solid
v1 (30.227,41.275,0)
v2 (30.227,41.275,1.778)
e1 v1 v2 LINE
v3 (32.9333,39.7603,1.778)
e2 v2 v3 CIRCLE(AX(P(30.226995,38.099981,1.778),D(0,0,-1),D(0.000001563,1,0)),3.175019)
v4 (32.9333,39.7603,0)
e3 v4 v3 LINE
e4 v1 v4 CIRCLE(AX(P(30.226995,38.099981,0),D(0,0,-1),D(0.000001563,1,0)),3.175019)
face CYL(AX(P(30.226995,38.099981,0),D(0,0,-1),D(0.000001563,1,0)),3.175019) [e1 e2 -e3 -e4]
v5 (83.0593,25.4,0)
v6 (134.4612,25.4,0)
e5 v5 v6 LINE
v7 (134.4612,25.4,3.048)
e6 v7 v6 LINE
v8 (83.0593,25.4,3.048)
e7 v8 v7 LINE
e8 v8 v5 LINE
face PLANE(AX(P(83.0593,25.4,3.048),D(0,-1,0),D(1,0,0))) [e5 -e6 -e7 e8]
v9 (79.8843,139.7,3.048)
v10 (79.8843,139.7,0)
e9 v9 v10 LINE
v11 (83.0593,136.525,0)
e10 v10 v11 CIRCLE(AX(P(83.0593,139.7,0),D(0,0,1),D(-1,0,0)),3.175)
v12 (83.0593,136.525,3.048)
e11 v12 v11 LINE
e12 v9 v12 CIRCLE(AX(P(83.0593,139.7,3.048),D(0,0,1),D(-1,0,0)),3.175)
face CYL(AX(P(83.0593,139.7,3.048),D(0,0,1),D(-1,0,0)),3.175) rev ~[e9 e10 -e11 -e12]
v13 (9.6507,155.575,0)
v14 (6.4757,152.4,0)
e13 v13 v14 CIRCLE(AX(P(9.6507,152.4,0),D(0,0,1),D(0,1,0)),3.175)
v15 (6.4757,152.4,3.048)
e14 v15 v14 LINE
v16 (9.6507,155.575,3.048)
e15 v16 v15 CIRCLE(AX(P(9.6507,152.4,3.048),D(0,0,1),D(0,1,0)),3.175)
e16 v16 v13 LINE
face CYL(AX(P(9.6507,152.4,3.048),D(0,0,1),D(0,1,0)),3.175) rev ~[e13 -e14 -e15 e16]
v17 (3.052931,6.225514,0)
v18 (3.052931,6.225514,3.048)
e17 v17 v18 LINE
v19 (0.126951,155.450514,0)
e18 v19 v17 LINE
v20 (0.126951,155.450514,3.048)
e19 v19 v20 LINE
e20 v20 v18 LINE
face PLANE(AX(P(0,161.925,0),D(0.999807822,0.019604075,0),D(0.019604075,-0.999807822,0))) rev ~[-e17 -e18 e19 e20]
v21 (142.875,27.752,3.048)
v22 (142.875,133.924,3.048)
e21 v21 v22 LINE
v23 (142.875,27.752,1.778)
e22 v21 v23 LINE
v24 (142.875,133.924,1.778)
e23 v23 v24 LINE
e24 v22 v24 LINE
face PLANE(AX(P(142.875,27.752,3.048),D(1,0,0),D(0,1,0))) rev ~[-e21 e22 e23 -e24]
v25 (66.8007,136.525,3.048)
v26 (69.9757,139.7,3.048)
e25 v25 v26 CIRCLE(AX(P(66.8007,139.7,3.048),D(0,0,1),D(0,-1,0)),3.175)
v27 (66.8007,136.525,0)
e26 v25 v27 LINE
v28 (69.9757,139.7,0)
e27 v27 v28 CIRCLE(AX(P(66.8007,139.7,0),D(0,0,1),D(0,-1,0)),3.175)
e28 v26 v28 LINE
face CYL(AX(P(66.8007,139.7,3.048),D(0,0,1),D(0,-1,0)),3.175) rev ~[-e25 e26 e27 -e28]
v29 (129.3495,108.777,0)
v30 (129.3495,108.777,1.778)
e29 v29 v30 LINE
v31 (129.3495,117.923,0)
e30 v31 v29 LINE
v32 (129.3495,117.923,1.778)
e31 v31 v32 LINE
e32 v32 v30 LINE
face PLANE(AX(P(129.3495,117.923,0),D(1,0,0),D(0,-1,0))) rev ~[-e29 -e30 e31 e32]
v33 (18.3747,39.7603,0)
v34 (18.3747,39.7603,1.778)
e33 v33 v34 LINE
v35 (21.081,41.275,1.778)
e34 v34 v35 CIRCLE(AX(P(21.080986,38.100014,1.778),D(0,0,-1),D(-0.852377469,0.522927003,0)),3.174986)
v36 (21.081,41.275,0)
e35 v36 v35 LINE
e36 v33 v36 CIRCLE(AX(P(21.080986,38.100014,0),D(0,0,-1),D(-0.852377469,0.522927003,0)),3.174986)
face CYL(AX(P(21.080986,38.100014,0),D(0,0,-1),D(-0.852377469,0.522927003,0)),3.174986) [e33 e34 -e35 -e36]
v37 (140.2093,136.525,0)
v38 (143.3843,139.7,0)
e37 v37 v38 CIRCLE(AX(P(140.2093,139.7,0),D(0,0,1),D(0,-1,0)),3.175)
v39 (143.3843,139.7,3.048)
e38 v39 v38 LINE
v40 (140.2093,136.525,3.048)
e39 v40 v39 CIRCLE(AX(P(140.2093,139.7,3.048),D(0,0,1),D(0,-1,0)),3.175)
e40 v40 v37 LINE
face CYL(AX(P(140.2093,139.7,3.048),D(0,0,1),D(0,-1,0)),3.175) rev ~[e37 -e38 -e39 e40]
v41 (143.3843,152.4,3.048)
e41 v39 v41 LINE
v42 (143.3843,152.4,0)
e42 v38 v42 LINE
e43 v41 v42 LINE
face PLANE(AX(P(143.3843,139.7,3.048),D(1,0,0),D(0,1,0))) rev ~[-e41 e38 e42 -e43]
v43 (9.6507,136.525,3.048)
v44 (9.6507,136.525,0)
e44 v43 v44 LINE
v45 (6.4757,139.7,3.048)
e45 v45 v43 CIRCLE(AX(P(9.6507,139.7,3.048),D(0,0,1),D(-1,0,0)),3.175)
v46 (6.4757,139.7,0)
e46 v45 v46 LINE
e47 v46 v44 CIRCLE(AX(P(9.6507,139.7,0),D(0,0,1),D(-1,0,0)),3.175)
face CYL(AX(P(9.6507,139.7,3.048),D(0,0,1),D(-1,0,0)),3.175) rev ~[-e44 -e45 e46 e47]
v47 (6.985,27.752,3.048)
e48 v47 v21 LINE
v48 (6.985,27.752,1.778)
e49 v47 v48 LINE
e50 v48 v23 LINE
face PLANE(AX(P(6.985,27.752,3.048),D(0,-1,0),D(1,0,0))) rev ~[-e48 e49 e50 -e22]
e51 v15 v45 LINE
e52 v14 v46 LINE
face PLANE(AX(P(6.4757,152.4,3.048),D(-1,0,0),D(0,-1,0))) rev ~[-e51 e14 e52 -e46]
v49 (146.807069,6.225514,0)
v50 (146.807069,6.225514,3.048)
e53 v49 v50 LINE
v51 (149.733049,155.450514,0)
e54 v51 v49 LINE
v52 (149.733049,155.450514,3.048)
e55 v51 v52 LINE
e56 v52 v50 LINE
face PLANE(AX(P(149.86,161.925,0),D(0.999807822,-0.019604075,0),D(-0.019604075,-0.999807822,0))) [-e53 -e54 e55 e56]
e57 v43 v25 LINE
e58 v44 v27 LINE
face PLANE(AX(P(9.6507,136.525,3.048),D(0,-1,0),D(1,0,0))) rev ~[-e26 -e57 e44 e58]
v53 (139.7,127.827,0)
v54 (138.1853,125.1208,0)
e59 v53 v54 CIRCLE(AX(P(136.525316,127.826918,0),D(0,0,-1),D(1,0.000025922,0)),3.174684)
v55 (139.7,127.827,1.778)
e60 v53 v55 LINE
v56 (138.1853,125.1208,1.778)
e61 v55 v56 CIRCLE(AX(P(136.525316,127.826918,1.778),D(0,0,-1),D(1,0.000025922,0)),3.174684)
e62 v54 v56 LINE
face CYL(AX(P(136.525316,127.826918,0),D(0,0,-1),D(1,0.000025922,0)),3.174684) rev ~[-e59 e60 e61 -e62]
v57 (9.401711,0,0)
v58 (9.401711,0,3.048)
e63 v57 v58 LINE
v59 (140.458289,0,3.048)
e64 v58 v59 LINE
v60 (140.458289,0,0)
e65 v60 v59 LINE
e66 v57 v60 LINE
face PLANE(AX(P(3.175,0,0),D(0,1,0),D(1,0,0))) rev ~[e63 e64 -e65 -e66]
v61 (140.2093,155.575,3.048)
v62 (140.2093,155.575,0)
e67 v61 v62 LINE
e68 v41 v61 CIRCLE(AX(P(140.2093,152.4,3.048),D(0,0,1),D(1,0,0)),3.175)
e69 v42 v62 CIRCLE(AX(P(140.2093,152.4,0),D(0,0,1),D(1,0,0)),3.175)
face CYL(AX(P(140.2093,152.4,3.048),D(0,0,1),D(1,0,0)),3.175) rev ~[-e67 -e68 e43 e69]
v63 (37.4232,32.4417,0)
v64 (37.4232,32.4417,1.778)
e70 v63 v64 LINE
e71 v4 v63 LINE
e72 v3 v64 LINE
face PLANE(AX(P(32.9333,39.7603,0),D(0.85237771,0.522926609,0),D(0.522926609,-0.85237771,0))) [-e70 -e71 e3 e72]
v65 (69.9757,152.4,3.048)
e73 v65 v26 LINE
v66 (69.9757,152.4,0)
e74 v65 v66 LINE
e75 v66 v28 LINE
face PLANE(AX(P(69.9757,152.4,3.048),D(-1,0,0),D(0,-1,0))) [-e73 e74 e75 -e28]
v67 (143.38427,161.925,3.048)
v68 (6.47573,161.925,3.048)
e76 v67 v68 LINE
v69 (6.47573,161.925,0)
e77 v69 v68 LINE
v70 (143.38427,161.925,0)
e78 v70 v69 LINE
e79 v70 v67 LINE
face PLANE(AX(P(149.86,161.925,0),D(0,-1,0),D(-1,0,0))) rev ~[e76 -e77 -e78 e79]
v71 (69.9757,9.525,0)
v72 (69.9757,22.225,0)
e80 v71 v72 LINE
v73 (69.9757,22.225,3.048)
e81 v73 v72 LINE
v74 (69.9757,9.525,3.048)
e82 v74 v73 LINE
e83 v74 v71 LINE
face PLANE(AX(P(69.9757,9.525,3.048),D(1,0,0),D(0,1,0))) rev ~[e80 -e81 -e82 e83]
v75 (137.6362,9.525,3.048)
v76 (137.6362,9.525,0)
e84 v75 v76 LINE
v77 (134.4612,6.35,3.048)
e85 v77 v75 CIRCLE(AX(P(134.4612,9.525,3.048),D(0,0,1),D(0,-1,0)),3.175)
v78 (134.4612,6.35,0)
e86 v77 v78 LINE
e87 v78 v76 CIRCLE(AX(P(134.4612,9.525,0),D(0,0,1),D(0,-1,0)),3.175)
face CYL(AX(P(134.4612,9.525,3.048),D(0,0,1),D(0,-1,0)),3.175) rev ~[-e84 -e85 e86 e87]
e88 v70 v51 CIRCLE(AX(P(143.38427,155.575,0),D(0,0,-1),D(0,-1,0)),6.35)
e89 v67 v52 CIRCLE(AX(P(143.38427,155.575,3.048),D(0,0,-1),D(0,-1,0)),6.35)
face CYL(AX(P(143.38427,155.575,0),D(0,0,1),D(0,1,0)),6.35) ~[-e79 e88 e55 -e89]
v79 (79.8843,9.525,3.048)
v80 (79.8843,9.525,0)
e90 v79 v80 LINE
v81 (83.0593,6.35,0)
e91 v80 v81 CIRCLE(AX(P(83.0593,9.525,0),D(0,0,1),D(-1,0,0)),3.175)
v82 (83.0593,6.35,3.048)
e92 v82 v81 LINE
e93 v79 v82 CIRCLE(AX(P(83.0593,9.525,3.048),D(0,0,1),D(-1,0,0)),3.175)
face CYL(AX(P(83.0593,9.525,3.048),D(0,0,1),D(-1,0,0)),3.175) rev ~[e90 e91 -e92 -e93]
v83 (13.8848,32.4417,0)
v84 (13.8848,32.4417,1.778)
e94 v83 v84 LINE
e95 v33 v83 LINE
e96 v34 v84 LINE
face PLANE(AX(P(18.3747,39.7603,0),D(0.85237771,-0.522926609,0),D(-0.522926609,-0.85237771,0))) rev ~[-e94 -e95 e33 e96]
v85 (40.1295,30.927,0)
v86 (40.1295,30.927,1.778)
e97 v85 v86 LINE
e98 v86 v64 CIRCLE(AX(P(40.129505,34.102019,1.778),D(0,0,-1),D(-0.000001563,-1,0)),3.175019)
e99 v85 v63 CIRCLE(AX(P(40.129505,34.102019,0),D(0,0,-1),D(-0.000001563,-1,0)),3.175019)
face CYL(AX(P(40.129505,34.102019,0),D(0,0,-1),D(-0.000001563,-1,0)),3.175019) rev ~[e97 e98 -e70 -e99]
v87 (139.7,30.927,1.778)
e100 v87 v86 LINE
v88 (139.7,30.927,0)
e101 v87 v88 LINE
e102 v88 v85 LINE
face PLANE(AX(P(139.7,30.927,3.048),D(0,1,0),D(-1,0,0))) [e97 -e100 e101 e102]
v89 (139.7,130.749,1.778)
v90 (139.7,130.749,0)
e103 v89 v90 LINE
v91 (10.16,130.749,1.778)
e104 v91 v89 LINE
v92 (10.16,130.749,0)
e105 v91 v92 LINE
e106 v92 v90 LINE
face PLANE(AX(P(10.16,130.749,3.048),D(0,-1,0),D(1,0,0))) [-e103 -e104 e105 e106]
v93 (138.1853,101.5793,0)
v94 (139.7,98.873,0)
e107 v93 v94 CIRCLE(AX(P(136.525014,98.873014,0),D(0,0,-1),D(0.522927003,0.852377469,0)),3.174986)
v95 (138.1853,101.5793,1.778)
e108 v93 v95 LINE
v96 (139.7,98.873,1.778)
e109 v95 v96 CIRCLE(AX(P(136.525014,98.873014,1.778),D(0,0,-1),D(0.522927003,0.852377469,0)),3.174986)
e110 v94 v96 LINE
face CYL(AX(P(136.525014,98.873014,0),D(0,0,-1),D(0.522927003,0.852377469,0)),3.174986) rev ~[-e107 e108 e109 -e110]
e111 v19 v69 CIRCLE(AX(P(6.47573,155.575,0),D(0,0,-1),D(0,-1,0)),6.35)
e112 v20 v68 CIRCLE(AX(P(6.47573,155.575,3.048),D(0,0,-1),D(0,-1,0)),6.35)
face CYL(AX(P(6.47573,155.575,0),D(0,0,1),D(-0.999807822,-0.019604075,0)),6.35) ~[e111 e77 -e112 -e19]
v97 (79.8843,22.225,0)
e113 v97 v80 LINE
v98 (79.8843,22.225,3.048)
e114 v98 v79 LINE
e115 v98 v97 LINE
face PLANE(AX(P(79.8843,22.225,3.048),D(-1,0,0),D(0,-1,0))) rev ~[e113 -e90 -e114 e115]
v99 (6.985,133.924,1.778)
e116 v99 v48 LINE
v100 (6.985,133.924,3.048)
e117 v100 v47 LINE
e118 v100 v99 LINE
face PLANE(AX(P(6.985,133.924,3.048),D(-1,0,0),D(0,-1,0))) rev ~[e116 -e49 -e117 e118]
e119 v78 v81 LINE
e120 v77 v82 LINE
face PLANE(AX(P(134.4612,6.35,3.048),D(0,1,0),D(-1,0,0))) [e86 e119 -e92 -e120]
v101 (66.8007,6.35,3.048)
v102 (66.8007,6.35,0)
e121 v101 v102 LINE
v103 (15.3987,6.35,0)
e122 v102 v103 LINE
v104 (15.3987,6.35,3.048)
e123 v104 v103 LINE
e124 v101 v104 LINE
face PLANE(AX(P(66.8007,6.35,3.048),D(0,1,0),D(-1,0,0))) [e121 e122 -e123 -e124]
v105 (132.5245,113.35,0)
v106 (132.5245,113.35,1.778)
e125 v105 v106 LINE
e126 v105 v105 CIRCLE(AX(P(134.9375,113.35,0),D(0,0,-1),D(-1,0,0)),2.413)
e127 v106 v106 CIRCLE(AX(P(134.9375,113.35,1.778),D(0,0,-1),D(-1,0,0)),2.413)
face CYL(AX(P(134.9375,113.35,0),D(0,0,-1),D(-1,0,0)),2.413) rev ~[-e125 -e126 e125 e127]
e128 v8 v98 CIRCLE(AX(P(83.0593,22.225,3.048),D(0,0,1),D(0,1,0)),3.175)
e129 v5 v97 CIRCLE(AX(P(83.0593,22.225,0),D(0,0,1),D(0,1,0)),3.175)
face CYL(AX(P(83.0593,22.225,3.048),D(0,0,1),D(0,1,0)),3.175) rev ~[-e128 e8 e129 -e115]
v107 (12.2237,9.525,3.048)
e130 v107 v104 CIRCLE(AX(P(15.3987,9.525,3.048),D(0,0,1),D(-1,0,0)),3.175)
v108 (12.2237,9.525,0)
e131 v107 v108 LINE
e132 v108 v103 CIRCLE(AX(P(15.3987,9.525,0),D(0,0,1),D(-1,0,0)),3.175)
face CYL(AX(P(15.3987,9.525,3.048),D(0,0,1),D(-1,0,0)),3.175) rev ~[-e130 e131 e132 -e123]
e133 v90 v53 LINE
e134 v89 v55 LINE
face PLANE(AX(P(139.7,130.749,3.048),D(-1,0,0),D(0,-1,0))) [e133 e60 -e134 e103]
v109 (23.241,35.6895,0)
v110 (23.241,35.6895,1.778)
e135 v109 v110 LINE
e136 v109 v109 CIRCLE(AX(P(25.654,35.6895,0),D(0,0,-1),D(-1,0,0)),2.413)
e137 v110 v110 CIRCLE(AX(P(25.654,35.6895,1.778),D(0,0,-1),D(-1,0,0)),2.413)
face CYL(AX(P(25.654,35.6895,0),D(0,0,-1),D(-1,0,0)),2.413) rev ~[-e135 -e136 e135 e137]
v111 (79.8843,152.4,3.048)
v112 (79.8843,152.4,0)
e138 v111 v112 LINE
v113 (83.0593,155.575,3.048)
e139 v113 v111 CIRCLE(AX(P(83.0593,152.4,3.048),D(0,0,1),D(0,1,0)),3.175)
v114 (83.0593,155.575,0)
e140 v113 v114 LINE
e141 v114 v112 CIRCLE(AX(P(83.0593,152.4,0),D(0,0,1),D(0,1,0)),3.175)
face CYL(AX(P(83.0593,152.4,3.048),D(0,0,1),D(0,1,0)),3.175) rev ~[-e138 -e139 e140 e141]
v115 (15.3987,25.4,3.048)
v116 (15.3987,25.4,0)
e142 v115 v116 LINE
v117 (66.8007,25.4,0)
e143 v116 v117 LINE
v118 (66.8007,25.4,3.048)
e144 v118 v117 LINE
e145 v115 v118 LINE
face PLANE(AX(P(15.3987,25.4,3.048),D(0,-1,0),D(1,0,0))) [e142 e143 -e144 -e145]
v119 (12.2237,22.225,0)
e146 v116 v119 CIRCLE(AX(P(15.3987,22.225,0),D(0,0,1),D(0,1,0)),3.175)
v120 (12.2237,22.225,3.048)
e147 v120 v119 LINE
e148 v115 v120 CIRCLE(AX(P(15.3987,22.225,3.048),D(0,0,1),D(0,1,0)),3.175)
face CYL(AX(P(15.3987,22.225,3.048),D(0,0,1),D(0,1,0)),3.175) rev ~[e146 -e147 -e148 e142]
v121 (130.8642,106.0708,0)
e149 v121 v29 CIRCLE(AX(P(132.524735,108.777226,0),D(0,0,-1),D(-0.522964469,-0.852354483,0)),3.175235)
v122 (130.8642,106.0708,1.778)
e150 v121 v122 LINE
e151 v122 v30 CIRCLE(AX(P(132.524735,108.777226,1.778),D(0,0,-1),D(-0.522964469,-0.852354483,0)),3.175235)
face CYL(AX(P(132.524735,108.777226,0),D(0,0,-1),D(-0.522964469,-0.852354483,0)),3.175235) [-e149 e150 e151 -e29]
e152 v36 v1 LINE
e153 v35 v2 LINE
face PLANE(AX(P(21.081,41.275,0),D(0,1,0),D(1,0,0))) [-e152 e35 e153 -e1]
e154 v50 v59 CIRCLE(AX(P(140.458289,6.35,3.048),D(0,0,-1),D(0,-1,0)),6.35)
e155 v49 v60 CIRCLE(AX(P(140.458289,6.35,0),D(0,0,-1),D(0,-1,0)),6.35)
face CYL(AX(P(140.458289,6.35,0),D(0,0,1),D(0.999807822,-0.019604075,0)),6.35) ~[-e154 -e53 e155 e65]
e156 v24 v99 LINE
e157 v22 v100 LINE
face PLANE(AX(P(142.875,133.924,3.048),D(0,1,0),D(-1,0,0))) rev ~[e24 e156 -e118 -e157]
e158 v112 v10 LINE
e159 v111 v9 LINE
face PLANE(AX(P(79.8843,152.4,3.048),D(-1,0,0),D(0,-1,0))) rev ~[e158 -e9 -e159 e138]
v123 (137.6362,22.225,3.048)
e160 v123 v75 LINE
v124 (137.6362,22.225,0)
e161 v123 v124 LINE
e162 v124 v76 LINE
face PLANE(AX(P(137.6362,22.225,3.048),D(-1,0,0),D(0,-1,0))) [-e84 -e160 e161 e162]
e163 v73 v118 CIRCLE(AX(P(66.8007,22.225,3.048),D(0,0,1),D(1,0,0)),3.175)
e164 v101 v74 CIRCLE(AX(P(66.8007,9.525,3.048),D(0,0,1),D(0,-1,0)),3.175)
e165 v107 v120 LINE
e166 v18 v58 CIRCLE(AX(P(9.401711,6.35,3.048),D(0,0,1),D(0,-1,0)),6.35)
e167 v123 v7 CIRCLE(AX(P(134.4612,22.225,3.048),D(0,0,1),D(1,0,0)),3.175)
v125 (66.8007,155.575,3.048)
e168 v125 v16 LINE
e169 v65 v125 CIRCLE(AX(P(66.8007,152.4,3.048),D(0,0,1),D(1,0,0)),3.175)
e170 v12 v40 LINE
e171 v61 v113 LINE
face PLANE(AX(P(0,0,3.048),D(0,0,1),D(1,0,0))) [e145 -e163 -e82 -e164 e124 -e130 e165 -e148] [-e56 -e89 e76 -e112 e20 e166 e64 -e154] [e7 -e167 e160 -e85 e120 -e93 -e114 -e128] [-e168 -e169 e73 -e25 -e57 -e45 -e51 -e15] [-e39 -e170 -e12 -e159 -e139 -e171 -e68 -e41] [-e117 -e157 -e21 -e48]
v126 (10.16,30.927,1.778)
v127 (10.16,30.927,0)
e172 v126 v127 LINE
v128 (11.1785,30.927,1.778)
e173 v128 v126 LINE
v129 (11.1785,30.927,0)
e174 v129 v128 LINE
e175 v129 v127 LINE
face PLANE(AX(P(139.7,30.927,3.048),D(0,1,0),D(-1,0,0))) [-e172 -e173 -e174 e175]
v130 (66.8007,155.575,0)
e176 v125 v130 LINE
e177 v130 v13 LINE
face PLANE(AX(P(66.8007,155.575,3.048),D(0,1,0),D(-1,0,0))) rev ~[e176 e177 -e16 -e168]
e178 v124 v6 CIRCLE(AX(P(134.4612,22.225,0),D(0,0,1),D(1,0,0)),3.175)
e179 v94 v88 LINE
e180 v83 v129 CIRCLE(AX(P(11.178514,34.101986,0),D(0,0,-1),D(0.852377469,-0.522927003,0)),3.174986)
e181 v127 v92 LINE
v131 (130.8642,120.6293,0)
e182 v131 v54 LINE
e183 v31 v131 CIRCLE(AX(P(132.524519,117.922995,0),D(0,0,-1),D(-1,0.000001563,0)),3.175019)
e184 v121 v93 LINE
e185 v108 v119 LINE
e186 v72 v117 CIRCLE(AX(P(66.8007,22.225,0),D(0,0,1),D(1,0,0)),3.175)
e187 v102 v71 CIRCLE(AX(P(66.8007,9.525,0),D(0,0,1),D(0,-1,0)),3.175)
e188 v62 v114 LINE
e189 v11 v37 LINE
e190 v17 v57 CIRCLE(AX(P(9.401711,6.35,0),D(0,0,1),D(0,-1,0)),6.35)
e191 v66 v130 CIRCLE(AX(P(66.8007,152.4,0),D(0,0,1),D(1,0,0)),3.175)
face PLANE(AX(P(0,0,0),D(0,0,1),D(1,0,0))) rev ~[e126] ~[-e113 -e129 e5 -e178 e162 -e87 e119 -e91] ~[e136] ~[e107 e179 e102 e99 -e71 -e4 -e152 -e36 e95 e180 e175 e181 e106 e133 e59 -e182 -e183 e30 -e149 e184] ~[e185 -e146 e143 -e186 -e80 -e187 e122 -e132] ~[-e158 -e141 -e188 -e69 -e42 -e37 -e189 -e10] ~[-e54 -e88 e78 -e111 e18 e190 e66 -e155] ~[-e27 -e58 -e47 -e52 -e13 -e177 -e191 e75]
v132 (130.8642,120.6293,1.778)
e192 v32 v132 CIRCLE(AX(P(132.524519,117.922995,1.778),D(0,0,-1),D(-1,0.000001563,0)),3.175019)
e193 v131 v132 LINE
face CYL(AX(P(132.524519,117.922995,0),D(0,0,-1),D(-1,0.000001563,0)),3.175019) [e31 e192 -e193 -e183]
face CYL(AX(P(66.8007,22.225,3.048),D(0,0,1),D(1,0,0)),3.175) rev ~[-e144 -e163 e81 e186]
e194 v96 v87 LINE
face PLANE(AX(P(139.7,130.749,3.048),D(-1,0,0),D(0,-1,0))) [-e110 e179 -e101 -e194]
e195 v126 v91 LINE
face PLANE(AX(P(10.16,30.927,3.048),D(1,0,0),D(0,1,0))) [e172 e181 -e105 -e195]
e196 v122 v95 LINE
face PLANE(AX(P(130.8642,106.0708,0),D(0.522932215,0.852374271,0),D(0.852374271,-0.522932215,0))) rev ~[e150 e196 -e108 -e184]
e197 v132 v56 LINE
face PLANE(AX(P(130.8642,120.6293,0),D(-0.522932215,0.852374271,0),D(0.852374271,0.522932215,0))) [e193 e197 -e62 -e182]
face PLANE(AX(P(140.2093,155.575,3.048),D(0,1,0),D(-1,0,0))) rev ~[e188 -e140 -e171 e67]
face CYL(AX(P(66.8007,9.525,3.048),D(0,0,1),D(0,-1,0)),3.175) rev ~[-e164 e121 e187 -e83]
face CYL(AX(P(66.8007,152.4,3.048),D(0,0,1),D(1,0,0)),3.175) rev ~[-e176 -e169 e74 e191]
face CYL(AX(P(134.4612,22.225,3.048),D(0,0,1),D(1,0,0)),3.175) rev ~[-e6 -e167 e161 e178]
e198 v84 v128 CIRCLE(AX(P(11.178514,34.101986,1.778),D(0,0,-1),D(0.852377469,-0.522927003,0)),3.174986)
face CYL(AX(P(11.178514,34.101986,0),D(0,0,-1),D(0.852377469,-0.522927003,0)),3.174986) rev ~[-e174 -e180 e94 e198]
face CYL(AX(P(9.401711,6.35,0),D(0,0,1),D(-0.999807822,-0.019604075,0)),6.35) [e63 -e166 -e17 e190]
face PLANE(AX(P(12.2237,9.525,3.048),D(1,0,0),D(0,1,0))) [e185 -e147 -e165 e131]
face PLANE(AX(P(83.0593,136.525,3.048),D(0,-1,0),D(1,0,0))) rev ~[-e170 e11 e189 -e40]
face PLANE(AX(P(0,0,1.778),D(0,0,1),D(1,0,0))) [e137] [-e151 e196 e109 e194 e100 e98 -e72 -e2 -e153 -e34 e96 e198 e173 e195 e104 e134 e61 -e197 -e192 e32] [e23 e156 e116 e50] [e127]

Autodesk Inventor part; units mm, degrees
ref_plane "YZ Plane" through (0, 0, 0) normal (1, 0, 0) x (0, 1, 0)
ref_plane "XZ Plane" through (0, 0, 0) normal (0, 1, 0) x (-1, 0, 0)
ref_plane "XY Plane" through (0, 0, 0) normal (0, 0, 1) x (1, 0, 0)
sketch "Sketch1" plane through (0, 0, 0) normal (0, 0, 1) x (1, 0, 0)
  line L0 (3.175, 0) -> (146.685, 0)
  line L1 (149.86, 161.925) -> (0, 161.925)
  line L2 (0, 161.925) -> (3.175, 0)
  line L3 (149.86, 161.925) -> (146.685, 0)
  point P0 (0, 0)
  dimension "d74" = 161.925
  dimension "d75" = 143.51
  dimension "d76" = 149.86
extrude "Extrusion1" add sketch "Sketch1" along normal blind 3.048
fillet "Fillet1" radius 6.35 3 edges at (149.86, 161.925, 1.524) (146.685, 0, 1.524) (0, 161.925, 1.524)
fillet "Fillet4" radius 6.35 1 edges at (3.175, 0, 1.524)
sketch "Sketch21" plane through (0, 0, 3.048) normal (0, 0, 1) x (1, 0, 0)
  arc A0 (149.733, 155.4505) -> (143.3843, 161.925) centre (143.3843, 155.575) ccw projected
  line L0 (143.3843, 139.7) -> (143.3843, 152.4)
  line L1 (6.4757, 152.4) -> (6.4757, 139.7)
  line L2 (79.8843, 152.4) -> (79.8843, 139.7)
  line L3 (69.9757, 152.4) -> (69.9757, 139.7)
  line L4 (140.2093, 155.575) -> (83.0593, 155.575)
  line L5 (66.8007, 155.575) -> (9.6507, 155.575)
  line L6 (9.6507, 136.525) -> (66.8007, 136.525)
  line L7 (83.0593, 136.525) -> (140.2093, 136.525)
  arc A1 (9.6507, 155.575) -> (6.4757, 152.4) centre (9.6507, 152.4) ccw
  arc A2 (6.4757, 139.7) -> (9.6507, 136.525) centre (9.6507, 139.7) ccw
  arc A3 (66.8007, 136.525) -> (69.9757, 139.7) centre (66.8007, 139.7) ccw
  arc A4 (69.9757, 152.4) -> (66.8007, 155.575) centre (66.8007, 152.4) ccw
  arc A5 (83.0593, 155.575) -> (79.8843, 152.4) centre (83.0593, 152.4) ccw
  arc A6 (79.8843, 139.7) -> (83.0593, 136.525) centre (83.0593, 139.7) ccw
  arc A7 (140.2093, 136.525) -> (143.3843, 139.7) centre (140.2093, 139.7) ccw
  arc A8 (143.3843, 152.4) -> (140.2093, 155.575) centre (140.2093, 152.4) ccw
  line L8 (137.6362, 22.225) -> (137.6362, 9.525)
  line L9 (12.2237, 9.525) -> (12.2237, 22.225)
  line L10 (12.2237, 25.4) -> (137.6362, 6.35) construction
  line L11 (137.6362, 25.4) -> (12.2237, 6.35) construction
  line L12 (69.9757, 9.525) -> (69.9757, 22.225)
  line L13 (79.8843, 22.225) -> (79.8843, 9.525)
  line L14 (79.8843, 6.35) -> (69.9757, 25.4) construction
  line L15 (69.9757, 6.35) -> (79.8843, 25.4) construction
  line L16 (15.3987, 25.4) -> (66.8007, 25.4)
  line L17 (83.0593, 25.4) -> (134.4612, 25.4)
  line L18 (134.4612, 6.35) -> (83.0593, 6.35)
  line L19 (66.8007, 6.35) -> (15.3987, 6.35)
  arc A9 (15.3987, 25.4) -> (12.2237, 22.225) centre (15.3987, 22.225) ccw
  arc A10 (12.2237, 9.525) -> (15.3987, 6.35) centre (15.3987, 9.525) ccw
  arc A11 (66.8007, 6.35) -> (69.9757, 9.525) centre (66.8007, 9.525) ccw
  arc A12 (69.9757, 22.225) -> (66.8007, 25.4) centre (66.8007, 22.225) ccw
  arc A13 (83.0593, 25.4) -> (79.8843, 22.225) centre (83.0593, 22.225) ccw
  arc A14 (137.6362, 22.225) -> (134.4612, 25.4) centre (134.4612, 22.225) ccw
  arc A15 (134.4612, 6.35) -> (137.6362, 9.525) centre (134.4612, 9.525) ccw
  arc A16 (79.8843, 9.525) -> (83.0593, 6.35) centre (83.0593, 9.525) ccw
  point P0 (0, 0)
  point P1 (74.93, 15.875)
  dimension "d97" = 3.175
  dimension "d111" = 19.05
  dimension "d112" = 19.05
  dimension "d113" = 63.5
  dimension "d114" = 63.5
  dimension "d131" = 9.9085
  dimension "d141" = 19.05
  dimension "d142" = 3.175
extrude "Extrusion20" cut sketch "Sketch21" against normal blind 3.048
sketch "Sketch23" plane through (0, 0, 3.048) normal (0, 0, 1) x (1, 0, 0)
  line L0 (142.875, 27.752) -> (6.985, 27.752)
  line L1 (6.985, 27.752) -> (6.985, 133.924)
  line L2 (6.985, 133.924) -> (142.875, 133.924)
  line L3 (142.875, 133.924) -> (142.875, 27.752)
  line L4 (142.875, 27.752) -> (6.985, 133.924) construction
  line L5 (6.985, 27.752) -> (142.875, 133.924) construction
  line L6 (10.16, 130.749) -> (139.7, 130.749)
  line L7 (10.16, 30.927) -> (10.16, 130.749)
  line L8 (139.7, 30.927) -> (10.16, 30.927)
  line L9 (139.7, 130.749) -> (139.7, 30.927)
  point P0 (0, 0)
  point P1 (74.93, 80.838)
  dimension "d129" = 135.89
  dimension "d130" = 106.172
  dimension "d132" = 3.175
  dimension "d133" = 3.175
  dimension "d134" = 3.175
  dimension "d135" = 3.175
extrude "Extrusion22" cut sketch "Sketch23" against normal blind 3.048 contours L6 L9 L8 L7
sketch "Sketch25" plane through (0, 0, 3.048) normal (0, 0, 1) x (1, 0, 0)
  line L0 (10.16, 30.927) -> (10.16, 130.749) projected
  line L1 (10.16, 130.749) -> (139.7, 130.749) projected
  line L2 (139.7, 130.749) -> (139.7, 30.927) projected
  line L3 (139.7, 30.927) -> (10.16, 30.927) projected
  line L4 (142.875, 133.924) -> (6.985, 133.924)
  line L5 (6.985, 133.924) -> (6.985, 27.752)
  line L6 (6.985, 27.752) -> (142.875, 27.752)
  line L7 (142.875, 27.752) -> (142.875, 133.924)
  point P0 (0, 0)
  dimension "d138" = 3.175
extrude "Extrusion23" cut sketch "Sketch25" against normal blind 1.27
sketch "Sketch34" plane through (0, 0, 0) normal (0, 0, -1) x (-1, 0, 0)
  line L0 (-10.16, 130.749) -> (-10.16, 30.927) projected
  line L1 (-10.16, 30.927) -> (-139.7, 30.927) projected
  line L2 (-139.7, 30.927) -> (-139.7, 130.749) projected
  line L3 (-139.7, 130.749) -> (-10.16, 130.749) projected
  line L4 (-6.985, 133.924) -> (-6.985, 27.752)
  line L5 (-6.985, 27.752) -> (-142.875, 27.752)
  line L6 (-142.875, 27.752) -> (-142.875, 133.924)
  line L7 (-142.875, 133.924) -> (-6.985, 133.924)
  circle A0 centre (-134.9375, 113.35) radius 2.413
  line L8 (-129.3495, 117.923) -> (-129.3495, 108.777)
  line L9 (-130.8642, 120.6293) -> (-138.1853, 125.1208)
  line L10 (-130.8642, 106.0708) -> (-138.1853, 101.5793)
  line L11 (-139.7, 127.827) -> (-139.7, 130.749)
  line L12 (-139.7, 98.873) -> (-139.7, 93.6625)
  arc A1 (-139.7, 127.827) -> (-138.1853, 125.1208) centre (-136.525, 127.827) ccw
  arc A2 (-129.3495, 117.923) -> (-130.8642, 120.6293) centre (-132.5245, 117.923) ccw
  arc A3 (-130.8642, 106.0708) -> (-129.3495, 108.777) centre (-132.5245, 108.777) ccw
  arc A4 (-138.1853, 101.5793) -> (-139.7, 98.873) centre (-136.525, 98.873) ccw
  line L13 (-139.7, 127.827) -> (-139.7, 98.873)
  circle A5 centre (-25.654, 35.6895) radius 2.413
  line L14 (-21.081, 41.275) -> (-30.227, 41.275)
  line L15 (-32.9333, 39.7603) -> (-37.4232, 32.4417)
  line L16 (-18.3747, 39.7603) -> (-13.8848, 32.4417)
  line L17 (-40.1295, 30.927) -> (-42.8625, 30.927)
  line L18 (-11.1785, 30.927) -> (-10.16, 30.927)
  arc A6 (-40.1295, 30.927) -> (-37.4232, 32.4417) centre (-40.1295, 34.102) ccw
  arc A7 (-13.8848, 32.4417) -> (-11.1785, 30.927) centre (-11.1785, 34.102) ccw
  arc A8 (-18.3747, 39.7603) -> (-21.081, 41.275) centre (-21.081, 38.1) ccw
  arc A9 (-30.227, 41.275) -> (-32.9333, 39.7603) centre (-30.227, 38.1) ccw
  line L19 (-40.1295, 30.927) -> (-11.1785, 30.927)
  point P0 (0, 0)
  point P1 (-129.3495, 119.7)
  point P2 (-129.3495, 107)
  point P3 (-139.7, 126.05)
  point P4 (-139.7, 100.65)
  point P5 (-19.304, 41.275)
  point P6 (-32.004, 41.275)
  point P7 (-38.3525, 30.927)
  point P8 (-12.9555, 30.927)
  dimension "d223" = 3.175
  dimension "d226" = 4.826
  dimension "d227" = 20.574
  dimension "d228" = 7.9375
  dimension "d231" = 12.7
  dimension "d235" = 3.175
  dimension "d240" = 4.826
  dimension "d241" = 18.669
  dimension "d242" = 7.9375
  dimension "d244" = 12.7
  dimension "d247" = 3.175
  dimension "d248" = 8.127
  dimension "d249" = 8.127
  dimension "d250" = 4.573
  dimension "d251" = 4.573
  dimension "d253" = 5.588
  dimension "d254" = 4.573
  dimension "d255" = 4.573
extrude "Extrusion29" add sketch "Sketch34" against normal blind 1.778 contours L1 A6 L15 A9 L14 A8 L16 A7 | A1 L9 A2 L8 A3 L10 A4 L2
properties part number "control pod layer b"
